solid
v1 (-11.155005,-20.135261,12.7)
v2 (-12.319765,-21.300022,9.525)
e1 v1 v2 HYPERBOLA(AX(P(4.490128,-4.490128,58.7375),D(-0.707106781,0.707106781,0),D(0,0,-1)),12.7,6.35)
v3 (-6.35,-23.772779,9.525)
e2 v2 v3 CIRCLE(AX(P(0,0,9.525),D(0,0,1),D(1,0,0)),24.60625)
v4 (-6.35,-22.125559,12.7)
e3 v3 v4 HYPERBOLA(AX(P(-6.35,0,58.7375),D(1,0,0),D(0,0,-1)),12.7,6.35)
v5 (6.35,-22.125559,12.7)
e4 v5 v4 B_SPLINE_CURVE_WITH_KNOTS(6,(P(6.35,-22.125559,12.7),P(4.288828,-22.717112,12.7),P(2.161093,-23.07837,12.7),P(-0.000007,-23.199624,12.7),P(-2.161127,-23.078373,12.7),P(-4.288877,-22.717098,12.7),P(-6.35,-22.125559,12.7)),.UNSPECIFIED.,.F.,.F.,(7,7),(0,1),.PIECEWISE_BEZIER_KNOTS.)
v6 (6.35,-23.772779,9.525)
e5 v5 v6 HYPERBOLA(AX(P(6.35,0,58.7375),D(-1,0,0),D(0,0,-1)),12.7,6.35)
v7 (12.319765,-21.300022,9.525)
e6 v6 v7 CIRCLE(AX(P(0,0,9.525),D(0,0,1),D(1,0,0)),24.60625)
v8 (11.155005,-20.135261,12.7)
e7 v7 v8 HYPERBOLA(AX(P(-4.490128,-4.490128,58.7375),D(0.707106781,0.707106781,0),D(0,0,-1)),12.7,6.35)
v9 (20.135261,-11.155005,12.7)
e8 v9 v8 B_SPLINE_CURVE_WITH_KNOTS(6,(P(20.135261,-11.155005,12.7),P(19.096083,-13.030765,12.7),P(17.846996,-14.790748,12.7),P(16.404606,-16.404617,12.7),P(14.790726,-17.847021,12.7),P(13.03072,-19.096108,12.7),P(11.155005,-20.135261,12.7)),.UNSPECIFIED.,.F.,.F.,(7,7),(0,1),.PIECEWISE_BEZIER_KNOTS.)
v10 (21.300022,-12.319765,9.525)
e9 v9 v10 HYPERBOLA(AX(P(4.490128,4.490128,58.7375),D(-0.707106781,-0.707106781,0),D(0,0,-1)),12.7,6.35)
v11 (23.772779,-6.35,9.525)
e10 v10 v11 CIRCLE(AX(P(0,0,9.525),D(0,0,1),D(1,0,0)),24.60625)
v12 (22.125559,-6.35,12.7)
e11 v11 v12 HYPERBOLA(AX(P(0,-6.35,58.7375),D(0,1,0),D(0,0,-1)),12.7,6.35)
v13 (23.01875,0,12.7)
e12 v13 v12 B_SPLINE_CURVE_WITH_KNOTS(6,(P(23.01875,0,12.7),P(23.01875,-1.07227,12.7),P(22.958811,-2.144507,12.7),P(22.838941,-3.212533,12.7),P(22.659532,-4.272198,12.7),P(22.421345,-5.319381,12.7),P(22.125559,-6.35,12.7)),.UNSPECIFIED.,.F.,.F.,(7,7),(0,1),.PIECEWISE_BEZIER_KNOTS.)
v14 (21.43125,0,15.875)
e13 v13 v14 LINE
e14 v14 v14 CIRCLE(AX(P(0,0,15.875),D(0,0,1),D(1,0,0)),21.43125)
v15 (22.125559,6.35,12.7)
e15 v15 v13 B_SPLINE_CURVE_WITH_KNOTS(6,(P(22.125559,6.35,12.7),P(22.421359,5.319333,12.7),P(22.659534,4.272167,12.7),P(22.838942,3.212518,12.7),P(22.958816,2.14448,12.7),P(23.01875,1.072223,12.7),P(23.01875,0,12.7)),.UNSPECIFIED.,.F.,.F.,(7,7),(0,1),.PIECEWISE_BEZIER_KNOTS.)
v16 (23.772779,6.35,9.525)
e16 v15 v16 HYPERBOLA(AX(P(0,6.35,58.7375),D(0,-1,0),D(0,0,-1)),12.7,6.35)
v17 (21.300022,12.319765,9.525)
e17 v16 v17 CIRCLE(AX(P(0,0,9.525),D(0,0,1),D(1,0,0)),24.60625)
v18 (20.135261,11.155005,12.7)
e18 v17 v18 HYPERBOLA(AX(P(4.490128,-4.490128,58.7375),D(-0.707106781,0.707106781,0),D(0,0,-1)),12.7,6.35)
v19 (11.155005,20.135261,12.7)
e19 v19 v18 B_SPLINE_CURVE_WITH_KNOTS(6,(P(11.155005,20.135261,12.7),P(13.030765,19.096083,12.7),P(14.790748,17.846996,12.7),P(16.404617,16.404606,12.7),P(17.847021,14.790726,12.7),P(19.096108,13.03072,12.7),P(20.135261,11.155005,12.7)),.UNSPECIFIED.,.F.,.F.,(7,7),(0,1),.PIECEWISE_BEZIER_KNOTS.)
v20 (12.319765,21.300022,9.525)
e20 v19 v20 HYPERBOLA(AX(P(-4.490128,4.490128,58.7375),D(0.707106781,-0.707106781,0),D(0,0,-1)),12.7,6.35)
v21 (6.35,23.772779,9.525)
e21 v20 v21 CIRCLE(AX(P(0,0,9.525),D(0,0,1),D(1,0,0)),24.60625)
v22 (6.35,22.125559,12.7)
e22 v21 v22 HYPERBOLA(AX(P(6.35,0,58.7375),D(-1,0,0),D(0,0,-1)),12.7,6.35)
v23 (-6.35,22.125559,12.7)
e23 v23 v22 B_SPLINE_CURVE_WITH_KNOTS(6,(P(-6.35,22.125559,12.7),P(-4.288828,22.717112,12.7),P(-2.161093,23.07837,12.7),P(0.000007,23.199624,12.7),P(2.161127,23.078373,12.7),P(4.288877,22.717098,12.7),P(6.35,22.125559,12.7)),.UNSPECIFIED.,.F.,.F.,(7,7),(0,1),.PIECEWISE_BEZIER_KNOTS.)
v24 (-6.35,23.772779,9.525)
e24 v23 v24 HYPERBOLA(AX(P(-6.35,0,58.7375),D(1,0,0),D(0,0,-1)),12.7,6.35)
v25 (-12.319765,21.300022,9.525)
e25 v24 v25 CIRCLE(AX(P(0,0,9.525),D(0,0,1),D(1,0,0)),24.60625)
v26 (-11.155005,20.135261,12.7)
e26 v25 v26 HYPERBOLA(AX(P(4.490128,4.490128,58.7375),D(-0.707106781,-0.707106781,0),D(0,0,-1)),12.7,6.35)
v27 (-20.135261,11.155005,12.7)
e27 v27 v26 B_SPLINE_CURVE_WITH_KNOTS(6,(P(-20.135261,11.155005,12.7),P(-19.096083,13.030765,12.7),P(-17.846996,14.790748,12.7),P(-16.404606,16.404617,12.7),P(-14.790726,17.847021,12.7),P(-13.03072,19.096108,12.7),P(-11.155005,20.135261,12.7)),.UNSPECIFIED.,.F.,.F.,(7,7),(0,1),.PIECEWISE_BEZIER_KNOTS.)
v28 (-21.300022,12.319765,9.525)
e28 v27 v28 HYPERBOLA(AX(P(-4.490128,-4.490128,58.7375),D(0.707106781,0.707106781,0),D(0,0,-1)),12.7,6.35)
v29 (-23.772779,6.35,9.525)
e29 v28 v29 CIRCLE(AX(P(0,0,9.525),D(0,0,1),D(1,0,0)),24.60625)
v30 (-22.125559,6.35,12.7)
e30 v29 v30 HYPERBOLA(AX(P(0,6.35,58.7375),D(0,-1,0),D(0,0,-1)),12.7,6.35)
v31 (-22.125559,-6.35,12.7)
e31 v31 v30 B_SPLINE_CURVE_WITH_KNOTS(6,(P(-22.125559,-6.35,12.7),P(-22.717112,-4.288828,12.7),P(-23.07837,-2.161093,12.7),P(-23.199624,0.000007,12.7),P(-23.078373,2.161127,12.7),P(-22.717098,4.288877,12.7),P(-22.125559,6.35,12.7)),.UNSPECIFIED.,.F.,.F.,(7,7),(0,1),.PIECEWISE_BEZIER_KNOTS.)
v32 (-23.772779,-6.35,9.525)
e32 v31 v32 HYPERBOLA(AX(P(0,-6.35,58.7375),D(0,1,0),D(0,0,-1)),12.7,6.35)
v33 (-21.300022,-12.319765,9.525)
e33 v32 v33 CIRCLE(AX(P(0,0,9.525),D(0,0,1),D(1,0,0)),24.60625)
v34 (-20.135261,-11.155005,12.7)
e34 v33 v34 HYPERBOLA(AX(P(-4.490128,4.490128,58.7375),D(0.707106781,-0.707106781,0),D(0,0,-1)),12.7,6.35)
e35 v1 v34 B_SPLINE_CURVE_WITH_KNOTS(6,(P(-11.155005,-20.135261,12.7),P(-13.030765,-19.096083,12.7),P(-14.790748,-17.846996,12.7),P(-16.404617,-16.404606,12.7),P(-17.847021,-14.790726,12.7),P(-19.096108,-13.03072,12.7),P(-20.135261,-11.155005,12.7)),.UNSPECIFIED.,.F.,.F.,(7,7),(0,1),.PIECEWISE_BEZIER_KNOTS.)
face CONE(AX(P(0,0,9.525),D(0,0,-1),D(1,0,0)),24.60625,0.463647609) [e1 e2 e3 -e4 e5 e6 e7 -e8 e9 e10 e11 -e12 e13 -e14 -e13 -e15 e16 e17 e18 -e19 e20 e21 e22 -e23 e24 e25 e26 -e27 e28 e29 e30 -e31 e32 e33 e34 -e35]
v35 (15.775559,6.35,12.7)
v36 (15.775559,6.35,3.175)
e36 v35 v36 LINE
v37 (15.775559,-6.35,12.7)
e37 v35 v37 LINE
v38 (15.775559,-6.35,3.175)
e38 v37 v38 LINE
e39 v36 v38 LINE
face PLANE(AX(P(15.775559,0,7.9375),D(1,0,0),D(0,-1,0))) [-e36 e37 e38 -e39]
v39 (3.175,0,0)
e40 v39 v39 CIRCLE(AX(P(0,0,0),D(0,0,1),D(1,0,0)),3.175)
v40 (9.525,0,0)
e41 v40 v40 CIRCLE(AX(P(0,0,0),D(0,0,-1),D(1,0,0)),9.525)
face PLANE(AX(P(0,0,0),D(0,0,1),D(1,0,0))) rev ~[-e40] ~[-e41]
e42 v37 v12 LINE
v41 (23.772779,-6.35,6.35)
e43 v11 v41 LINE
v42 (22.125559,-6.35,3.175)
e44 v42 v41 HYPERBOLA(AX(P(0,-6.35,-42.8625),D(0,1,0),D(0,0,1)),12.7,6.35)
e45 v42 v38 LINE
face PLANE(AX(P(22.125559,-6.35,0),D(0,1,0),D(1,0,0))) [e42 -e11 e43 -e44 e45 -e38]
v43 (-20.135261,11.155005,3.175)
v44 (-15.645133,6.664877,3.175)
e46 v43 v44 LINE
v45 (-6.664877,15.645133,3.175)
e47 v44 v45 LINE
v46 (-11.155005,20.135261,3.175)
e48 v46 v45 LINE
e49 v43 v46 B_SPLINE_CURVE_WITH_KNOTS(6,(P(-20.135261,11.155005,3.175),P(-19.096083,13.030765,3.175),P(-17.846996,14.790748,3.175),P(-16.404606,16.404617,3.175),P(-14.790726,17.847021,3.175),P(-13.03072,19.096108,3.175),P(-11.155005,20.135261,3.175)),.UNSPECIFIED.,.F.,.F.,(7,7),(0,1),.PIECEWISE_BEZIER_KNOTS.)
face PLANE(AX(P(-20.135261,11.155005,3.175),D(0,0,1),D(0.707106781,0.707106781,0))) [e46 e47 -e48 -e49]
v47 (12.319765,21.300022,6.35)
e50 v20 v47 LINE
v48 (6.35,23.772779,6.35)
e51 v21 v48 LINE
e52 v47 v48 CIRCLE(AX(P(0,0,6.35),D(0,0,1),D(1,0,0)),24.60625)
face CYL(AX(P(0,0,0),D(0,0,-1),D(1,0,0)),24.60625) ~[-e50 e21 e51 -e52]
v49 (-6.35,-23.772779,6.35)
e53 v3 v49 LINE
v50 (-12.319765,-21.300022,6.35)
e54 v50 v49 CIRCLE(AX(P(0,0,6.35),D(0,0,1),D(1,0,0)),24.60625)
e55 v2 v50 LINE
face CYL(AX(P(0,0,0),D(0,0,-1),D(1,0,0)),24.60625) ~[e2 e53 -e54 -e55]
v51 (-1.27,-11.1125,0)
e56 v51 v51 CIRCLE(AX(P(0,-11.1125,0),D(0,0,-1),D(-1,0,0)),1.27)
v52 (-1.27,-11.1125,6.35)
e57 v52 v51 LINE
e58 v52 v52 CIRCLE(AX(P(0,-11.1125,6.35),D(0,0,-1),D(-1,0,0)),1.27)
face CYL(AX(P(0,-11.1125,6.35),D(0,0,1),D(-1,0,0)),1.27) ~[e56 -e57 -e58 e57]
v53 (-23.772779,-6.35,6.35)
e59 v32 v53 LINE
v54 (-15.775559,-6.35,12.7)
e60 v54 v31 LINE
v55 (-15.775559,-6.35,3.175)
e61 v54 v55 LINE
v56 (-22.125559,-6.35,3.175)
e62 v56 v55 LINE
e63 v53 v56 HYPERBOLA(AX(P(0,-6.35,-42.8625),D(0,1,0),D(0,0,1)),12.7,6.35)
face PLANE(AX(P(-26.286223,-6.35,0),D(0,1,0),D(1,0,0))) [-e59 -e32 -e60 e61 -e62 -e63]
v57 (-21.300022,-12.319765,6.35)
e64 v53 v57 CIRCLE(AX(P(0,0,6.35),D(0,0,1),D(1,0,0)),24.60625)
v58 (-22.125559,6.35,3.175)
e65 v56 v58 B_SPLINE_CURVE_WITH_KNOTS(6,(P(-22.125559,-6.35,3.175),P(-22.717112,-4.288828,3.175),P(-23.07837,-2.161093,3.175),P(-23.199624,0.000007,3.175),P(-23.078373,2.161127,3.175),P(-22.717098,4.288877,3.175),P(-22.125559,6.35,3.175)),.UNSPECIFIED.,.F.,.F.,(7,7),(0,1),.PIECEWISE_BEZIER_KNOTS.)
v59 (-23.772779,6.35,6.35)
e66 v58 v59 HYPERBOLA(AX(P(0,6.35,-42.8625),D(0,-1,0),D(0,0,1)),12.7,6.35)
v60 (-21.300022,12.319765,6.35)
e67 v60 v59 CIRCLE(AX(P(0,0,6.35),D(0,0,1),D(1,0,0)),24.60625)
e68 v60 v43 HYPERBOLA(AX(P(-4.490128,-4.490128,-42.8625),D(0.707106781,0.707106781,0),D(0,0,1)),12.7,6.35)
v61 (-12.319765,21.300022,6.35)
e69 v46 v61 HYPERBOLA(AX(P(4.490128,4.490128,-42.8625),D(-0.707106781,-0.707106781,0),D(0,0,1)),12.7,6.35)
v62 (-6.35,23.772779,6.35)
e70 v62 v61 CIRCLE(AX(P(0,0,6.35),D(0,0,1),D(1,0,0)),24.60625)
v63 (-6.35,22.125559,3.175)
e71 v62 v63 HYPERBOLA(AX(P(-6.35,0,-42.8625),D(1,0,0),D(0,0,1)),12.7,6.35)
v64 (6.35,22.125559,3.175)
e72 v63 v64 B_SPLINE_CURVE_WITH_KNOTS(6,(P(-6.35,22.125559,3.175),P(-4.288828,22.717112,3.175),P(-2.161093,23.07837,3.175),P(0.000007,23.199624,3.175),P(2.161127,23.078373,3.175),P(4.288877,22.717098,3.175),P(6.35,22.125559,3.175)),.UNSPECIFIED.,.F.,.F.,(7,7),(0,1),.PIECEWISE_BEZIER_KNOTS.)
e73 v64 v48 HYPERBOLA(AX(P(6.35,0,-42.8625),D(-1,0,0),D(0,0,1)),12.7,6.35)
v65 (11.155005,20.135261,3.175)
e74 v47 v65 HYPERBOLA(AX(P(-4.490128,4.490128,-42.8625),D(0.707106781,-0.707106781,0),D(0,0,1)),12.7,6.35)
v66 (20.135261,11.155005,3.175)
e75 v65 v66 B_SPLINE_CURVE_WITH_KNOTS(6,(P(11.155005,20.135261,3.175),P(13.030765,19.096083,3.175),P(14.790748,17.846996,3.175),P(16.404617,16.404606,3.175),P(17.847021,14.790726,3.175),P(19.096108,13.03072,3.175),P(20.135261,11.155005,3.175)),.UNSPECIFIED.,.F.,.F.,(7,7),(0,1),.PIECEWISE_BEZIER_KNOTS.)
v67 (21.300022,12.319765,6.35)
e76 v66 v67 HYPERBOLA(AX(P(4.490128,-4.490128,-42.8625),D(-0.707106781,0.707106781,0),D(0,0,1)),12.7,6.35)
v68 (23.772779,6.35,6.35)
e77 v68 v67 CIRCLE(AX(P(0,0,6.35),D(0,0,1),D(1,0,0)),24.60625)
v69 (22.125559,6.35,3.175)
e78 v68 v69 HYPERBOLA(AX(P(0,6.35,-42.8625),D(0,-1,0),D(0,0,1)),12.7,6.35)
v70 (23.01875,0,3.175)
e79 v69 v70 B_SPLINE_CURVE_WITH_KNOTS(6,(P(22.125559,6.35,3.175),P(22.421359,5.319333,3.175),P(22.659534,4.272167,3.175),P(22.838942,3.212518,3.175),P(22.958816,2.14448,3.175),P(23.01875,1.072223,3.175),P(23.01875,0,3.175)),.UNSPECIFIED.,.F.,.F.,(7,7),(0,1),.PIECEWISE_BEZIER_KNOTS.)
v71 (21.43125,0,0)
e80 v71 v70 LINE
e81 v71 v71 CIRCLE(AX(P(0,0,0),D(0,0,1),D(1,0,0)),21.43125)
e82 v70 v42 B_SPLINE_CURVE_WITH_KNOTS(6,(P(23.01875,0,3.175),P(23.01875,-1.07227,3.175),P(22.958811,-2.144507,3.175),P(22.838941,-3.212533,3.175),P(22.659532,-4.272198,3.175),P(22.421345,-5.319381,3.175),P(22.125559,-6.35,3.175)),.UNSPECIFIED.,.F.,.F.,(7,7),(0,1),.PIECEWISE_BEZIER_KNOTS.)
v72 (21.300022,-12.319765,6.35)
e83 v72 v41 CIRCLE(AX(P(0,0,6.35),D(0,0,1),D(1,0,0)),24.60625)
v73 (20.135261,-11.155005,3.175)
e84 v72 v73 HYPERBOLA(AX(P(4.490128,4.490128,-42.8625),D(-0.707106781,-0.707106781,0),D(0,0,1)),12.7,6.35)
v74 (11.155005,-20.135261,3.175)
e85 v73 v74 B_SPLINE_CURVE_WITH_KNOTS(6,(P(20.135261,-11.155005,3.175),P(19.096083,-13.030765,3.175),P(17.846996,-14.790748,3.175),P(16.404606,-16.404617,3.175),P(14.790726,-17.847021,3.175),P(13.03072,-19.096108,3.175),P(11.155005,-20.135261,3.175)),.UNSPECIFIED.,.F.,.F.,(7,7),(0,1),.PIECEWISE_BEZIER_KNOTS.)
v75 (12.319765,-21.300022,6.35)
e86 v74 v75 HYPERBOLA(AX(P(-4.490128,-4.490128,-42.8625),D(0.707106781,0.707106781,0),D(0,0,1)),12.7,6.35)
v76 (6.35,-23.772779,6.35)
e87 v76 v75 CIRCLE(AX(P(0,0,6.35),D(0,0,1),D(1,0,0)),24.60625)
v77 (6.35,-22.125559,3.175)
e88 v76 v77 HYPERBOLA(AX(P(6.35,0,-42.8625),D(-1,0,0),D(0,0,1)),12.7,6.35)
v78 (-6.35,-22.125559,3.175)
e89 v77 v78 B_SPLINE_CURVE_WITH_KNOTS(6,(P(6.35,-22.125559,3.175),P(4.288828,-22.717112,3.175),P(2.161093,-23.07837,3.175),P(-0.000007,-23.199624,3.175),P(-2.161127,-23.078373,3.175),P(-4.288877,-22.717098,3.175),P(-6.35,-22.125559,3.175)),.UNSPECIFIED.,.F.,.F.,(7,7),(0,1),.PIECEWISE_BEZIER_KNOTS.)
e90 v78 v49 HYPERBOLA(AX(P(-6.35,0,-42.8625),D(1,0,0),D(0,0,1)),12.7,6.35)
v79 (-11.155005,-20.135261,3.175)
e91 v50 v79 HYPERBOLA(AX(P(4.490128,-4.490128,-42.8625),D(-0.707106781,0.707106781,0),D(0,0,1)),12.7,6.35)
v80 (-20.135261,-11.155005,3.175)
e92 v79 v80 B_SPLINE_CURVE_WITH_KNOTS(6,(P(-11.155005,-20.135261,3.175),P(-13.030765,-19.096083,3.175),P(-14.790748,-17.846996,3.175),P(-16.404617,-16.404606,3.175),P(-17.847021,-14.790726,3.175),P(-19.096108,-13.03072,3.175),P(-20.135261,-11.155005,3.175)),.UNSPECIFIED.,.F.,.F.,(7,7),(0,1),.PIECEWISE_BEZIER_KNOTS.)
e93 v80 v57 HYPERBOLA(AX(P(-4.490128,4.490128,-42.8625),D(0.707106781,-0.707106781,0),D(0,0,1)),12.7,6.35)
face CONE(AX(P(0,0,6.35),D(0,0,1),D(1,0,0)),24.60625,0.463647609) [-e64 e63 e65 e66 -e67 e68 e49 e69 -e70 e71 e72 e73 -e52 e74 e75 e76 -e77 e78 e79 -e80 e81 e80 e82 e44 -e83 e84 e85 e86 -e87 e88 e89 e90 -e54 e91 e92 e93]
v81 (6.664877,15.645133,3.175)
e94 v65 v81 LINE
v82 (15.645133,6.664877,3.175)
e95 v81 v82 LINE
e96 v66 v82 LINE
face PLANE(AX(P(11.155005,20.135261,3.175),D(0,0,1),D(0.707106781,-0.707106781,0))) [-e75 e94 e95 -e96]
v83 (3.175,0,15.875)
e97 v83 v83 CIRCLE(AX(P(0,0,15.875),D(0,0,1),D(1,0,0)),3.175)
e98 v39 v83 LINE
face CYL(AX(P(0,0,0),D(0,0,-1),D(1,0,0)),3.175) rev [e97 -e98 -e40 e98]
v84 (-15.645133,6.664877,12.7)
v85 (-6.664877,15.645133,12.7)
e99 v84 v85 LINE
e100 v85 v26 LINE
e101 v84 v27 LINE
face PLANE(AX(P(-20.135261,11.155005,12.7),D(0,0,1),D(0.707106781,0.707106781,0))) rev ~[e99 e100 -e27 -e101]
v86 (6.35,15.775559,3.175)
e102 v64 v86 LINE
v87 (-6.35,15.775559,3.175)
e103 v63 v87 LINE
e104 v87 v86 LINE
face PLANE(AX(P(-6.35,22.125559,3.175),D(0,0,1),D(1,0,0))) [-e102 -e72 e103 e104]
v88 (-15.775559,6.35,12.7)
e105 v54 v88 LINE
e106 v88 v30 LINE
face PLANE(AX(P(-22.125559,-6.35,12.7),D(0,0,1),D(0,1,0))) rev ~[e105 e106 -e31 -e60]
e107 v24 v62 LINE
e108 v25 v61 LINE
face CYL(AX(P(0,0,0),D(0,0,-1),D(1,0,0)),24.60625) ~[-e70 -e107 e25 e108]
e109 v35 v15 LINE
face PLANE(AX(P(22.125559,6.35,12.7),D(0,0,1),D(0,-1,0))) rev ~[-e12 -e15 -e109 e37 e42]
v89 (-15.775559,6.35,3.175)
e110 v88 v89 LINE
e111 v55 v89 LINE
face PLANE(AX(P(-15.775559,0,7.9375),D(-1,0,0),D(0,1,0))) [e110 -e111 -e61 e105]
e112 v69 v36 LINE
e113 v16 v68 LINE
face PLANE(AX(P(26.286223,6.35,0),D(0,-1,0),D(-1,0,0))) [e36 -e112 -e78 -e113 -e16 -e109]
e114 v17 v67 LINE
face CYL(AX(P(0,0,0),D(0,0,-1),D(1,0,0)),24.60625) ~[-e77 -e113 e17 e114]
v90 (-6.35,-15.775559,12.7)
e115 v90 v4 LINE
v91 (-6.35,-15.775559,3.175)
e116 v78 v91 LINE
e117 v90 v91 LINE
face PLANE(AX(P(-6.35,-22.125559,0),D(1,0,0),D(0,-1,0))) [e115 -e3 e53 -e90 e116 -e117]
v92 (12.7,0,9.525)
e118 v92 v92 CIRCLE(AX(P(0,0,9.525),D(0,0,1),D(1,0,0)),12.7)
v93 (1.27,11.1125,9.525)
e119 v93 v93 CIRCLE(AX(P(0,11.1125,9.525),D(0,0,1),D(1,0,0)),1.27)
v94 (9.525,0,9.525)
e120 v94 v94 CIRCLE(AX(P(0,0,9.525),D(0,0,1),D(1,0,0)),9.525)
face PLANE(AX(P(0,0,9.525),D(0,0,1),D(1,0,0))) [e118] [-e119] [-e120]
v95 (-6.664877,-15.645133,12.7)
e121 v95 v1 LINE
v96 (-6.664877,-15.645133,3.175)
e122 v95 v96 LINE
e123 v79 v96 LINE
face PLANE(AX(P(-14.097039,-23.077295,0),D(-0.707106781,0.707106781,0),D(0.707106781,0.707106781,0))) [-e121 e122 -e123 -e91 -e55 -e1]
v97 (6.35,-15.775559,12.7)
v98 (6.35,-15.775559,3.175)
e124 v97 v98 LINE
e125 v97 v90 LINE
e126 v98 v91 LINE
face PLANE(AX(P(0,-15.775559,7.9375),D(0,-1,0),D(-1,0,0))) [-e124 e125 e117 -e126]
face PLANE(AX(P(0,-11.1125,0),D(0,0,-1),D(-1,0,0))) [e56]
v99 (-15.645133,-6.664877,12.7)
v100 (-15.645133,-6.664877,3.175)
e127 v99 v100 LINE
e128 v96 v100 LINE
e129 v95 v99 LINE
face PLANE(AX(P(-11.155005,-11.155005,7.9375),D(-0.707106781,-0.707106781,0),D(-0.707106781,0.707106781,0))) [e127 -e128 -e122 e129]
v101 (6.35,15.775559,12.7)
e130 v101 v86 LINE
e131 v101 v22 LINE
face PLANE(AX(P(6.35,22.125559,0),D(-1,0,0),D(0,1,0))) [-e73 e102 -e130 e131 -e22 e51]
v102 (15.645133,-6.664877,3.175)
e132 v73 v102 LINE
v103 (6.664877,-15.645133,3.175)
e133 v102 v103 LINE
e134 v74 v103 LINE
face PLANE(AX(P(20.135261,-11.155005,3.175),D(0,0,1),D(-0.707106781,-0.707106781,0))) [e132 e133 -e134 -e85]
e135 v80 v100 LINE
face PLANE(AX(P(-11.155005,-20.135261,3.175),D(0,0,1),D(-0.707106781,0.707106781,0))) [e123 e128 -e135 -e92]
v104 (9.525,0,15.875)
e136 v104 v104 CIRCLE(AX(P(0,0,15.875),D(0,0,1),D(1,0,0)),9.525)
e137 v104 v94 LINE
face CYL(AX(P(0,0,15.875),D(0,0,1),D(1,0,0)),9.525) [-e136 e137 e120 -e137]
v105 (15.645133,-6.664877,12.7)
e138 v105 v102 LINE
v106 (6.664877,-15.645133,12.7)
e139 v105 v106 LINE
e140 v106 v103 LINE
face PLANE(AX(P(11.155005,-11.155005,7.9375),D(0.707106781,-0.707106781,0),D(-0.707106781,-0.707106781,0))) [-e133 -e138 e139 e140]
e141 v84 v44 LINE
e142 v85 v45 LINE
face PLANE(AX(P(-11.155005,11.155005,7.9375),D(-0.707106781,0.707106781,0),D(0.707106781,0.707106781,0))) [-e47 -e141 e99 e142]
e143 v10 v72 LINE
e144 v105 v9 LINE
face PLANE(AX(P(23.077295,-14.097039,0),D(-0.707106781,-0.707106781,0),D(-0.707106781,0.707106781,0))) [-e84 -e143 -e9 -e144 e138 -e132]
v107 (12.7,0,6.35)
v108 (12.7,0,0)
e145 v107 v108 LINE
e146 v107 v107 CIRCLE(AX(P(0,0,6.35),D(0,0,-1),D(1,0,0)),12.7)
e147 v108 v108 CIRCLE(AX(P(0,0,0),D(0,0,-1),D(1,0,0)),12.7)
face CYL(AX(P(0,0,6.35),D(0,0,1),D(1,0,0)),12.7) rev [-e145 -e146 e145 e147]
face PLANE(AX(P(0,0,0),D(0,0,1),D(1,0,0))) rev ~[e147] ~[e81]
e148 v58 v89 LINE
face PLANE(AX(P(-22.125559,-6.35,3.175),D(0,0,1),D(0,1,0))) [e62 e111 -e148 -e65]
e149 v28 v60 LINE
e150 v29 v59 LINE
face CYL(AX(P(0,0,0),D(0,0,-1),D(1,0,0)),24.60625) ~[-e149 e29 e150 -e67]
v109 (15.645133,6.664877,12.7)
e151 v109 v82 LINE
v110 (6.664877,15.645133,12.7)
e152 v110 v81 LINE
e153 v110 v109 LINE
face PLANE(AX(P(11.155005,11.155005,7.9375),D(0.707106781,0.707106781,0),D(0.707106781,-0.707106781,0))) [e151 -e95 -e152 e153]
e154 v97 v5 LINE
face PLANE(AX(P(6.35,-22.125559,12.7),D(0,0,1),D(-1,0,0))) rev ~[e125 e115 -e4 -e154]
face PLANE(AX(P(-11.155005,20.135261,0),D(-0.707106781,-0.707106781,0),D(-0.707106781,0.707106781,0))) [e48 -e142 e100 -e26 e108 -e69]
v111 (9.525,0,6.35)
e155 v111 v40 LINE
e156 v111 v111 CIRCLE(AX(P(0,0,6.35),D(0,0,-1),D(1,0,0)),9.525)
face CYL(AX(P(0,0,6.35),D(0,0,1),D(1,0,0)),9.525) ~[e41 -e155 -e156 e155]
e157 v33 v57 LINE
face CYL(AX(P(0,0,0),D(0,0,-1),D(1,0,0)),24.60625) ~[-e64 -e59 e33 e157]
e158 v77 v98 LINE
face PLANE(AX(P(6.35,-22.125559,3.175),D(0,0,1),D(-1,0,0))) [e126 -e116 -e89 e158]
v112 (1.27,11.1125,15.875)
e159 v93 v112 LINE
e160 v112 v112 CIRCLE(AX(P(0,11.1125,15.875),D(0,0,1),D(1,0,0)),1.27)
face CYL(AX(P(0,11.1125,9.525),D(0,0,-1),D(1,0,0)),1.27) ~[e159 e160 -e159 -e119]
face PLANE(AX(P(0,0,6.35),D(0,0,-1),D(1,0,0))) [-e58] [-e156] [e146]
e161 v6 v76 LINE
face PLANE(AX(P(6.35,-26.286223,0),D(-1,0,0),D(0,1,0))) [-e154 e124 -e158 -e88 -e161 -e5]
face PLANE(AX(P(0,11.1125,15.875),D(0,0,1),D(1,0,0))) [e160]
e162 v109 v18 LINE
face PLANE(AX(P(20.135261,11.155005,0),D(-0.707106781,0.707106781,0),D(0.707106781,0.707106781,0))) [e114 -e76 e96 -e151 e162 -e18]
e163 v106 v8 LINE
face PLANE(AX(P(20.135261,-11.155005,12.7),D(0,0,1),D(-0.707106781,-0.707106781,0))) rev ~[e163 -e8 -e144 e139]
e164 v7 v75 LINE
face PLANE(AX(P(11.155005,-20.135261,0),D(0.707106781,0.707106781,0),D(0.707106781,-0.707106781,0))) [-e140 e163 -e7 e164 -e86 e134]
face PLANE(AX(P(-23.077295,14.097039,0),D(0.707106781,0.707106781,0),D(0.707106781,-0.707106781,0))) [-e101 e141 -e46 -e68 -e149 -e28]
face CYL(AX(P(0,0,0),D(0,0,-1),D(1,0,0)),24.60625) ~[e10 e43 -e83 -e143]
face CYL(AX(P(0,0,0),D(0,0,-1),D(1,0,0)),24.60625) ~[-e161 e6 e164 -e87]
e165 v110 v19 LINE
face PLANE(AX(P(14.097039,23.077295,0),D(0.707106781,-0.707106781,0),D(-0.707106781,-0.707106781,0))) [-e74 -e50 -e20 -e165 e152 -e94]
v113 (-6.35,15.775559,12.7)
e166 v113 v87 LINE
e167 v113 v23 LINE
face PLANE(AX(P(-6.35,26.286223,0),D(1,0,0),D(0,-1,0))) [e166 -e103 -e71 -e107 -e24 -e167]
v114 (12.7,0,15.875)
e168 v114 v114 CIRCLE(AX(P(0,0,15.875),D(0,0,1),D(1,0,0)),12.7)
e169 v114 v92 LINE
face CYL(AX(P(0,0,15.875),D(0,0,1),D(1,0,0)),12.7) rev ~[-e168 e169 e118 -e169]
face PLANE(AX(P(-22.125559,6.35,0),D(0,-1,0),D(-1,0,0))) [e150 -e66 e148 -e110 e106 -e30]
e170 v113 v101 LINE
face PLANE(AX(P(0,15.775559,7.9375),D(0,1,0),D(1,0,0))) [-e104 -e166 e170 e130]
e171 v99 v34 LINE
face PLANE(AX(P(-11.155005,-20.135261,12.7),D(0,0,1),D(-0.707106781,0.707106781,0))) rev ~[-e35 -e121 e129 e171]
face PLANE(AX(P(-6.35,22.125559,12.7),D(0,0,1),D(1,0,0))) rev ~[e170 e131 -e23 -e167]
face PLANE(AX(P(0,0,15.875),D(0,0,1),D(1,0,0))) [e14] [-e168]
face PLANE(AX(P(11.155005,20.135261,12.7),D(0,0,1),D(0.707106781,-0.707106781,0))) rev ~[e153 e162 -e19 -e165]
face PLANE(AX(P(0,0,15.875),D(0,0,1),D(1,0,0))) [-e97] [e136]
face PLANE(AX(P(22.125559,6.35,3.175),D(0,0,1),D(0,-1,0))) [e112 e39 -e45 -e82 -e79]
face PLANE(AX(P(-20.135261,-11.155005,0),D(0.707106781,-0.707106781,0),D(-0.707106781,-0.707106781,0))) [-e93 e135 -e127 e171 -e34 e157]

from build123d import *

# Parameters (mm, degrees)
SKETCH1_R           = 24.60625
SKETCH1_R_2         = 3.175
BOSS_EXTRUDE1_DEPTH = 15.875
SKETCH2_R           = 12.7
SKETCH2_R_2         = 9.525
CUT_EXTRUDE1_DEPTH  = 6.35
CUT_EXTRUDE3_START  = -6.35
SKETCH4_R           = 12.7
SKETCH4_R_2         = 9.525
CUT_EXTRUDE3_DEPTH  = 6.35
CHAMFER1_SIZE       = 3.175
CHAMFER1_SIZE2      = 6.35
CHAMFER2_SIZE       = 6.35
CHAMFER2_SIZE2      = 3.175
CUT_EXTRUDE5_DEPTH  = 39.248538575
CIRPATTERN2_COUNT   = 8
SKETCH6_R           = 1.27
BOSS_EXTRUDE2_DEPTH = 6.35
SKETCH9_R           = 1.27
BOSS_EXTRUDE3_DEPTH = 6.35
CUT_EXTRUDE6_REACH  = 43.528
CIRPATTERN3_COUNT   = 8
SKETCH16_W          = 12.7
SKETCH16_H          = 9.525
CUT_EXTRUDE7_DEPTH  = 6.35
CIRPATTERN4_COUNT   = 8


with BuildPart() as part:
    # Sketch1 → Boss-Extrude1 (new body)
    with BuildSketch(Plane.XY):
        Circle(SKETCH1_R)
        Circle(SKETCH1_R_2, mode=Mode.SUBTRACT)
    extrude(amount=BOSS_EXTRUDE1_DEPTH)

    # Sketch2 → Cut-Extrude1 (cut)
    with BuildSketch(Plane.XY.offset(15.875)):
        Circle(SKETCH2_R)
        Circle(SKETCH2_R_2, mode=Mode.SUBTRACT)
    extrude(amount=-CUT_EXTRUDE1_DEPTH, mode=Mode.SUBTRACT)

    # Sketch4 → Cut-Extrude3 (cut)
    with BuildSketch(Plane(origin=(0, 0, 0), x_dir=(-1, 0, 0), z_dir=(0, 0, -1)).offset(CUT_EXTRUDE3_START)):
        Circle(SKETCH4_R)
        Circle(SKETCH4_R_2, mode=Mode.SUBTRACT)
    extrude(amount=CUT_EXTRUDE3_DEPTH, mode=Mode.SUBTRACT)

    # Chamfer1
    chamfer1_edges = [part.edges().sort_by_distance(p)[0] for p in [
        (-24.60625, 0, 0),
    ]]
    chamfer1_side = [part.faces().sort_by_distance(p)[0] for p in [
        (-23.910280151, 0, 0),
    ]]
    chamfer(chamfer1_edges, length=CHAMFER1_SIZE, length2=CHAMFER1_SIZE2, reference=chamfer1_side[0])

    # Chamfer2
    chamfer2_edges = [part.edges().sort_by_distance(p)[0] for p in [
        (-24.60625, 0, 15.875),
    ]]
    chamfer2_side = [part.faces().sort_by_distance(p)[0] for p in [
        (-24.60625, 0, 11.1125),
    ]]
    chamfer(chamfer2_edges, length=CHAMFER2_SIZE, length2=CHAMFER2_SIZE2, reference=chamfer2_side[0])

    # Sketch5 → Cut-Extrude5 (cut, through all)
    with BuildSketch(Plane(origin=(0, 0, 0), x_dir=(-1, 0, 0), z_dir=(0, 0, -1))):
        with BuildLine():
            Line((-6.35, 26.286223353), (6.35, 26.286223353))
            Line((6.35, 26.286223353), (6.35, 22.125558785))
            ThreePointArc((6.35, 22.125558785), (0, 23.01875), (-6.35, 22.125558785))
            Line((-6.35, 22.125558785), (-6.35, 26.286223353))
        make_face()
    cut_extrude5 = extrude(amount=-CUT_EXTRUDE5_DEPTH, mode=Mode.SUBTRACT)

    # CirPattern2: Cut-Extrude5 ×8 about axis
    cirpattern2_axis = Axis((0, 0, 15.875), (0, 0, -1))
    for i in range(1, CIRPATTERN2_COUNT):
        add(cut_extrude5.rotate(cirpattern2_axis, i * 360 / CIRPATTERN2_COUNT), mode=Mode.SUBTRACT)

    # Sketch6 → Boss-Extrude2 (add)
    with BuildSketch(Plane(origin=(0, 0, 6.35), x_dir=(-1, 0, 0), z_dir=(0, 0, -1))):
        with Locations((0, -11.1125)):
            Circle(SKETCH6_R)
    extrude(amount=BOSS_EXTRUDE2_DEPTH)

    # Sketch9 → Boss-Extrude3 (add)
    with BuildSketch(Plane.XY.offset(9.525)):
        with Locations((0, 11.1125)):
            Circle(SKETCH9_R)
    extrude(amount=BOSS_EXTRUDE3_DEPTH)

    # Sketch14 → Cut-Extrude6 (cut, up to next)
    with BuildSketch(Plane.ZY.offset(-6.35), mode=Mode.PRIVATE) as cut_extrude6_sk1:
        Polygon((6.35, 23.772779372), (9.525, 23.772779372), (12.7, 22.125558785), (3.175, 22.125558785), align=None)
    cut_extrude6_tool1 = extrude(cut_extrude6_sk1.sketch, amount=CUT_EXTRUDE6_REACH, mode=Mode.PRIVATE) & part.part
    cut_extrude6 = cut_extrude6_tool1.solids().sort_by_distance((6.35, 22.811901, 7.9375))[0]
    add(cut_extrude6, mode=Mode.SUBTRACT)

    # CirPattern3: Cut-Extrude6 ×8 about axis
    cirpattern3_axis = Axis((0, 0, 15.875), (0, 0, -1))
    for i in range(1, CIRPATTERN3_COUNT):
        add(cut_extrude6.rotate(cirpattern3_axis, i * 360 / CIRPATTERN3_COUNT), mode=Mode.SUBTRACT)

    # Sketch16 → Cut-Extrude7 (cut, symmetric)
    with BuildSketch(Plane(origin=(0, 22.125558785, 0), x_dir=(1, 0, 0), z_dir=(0, 1, 0))):
        with Locations((0, -7.9375)):
            Rectangle(SKETCH16_W, SKETCH16_H)
    cut_extrude7 = extrude(amount=CUT_EXTRUDE7_DEPTH, both=True, mode=Mode.SUBTRACT)

    # CirPattern4: Cut-Extrude7 ×8 about axis
    cirpattern4_axis = Axis((0, 0, 15.875), (0, 0, -1))
    for i in range(1, CIRPATTERN4_COUNT):
        add(cut_extrude7.rotate(cirpattern4_axis, i * 360 / CIRPATTERN4_COUNT), mode=Mode.SUBTRACT)


solid = part.part
